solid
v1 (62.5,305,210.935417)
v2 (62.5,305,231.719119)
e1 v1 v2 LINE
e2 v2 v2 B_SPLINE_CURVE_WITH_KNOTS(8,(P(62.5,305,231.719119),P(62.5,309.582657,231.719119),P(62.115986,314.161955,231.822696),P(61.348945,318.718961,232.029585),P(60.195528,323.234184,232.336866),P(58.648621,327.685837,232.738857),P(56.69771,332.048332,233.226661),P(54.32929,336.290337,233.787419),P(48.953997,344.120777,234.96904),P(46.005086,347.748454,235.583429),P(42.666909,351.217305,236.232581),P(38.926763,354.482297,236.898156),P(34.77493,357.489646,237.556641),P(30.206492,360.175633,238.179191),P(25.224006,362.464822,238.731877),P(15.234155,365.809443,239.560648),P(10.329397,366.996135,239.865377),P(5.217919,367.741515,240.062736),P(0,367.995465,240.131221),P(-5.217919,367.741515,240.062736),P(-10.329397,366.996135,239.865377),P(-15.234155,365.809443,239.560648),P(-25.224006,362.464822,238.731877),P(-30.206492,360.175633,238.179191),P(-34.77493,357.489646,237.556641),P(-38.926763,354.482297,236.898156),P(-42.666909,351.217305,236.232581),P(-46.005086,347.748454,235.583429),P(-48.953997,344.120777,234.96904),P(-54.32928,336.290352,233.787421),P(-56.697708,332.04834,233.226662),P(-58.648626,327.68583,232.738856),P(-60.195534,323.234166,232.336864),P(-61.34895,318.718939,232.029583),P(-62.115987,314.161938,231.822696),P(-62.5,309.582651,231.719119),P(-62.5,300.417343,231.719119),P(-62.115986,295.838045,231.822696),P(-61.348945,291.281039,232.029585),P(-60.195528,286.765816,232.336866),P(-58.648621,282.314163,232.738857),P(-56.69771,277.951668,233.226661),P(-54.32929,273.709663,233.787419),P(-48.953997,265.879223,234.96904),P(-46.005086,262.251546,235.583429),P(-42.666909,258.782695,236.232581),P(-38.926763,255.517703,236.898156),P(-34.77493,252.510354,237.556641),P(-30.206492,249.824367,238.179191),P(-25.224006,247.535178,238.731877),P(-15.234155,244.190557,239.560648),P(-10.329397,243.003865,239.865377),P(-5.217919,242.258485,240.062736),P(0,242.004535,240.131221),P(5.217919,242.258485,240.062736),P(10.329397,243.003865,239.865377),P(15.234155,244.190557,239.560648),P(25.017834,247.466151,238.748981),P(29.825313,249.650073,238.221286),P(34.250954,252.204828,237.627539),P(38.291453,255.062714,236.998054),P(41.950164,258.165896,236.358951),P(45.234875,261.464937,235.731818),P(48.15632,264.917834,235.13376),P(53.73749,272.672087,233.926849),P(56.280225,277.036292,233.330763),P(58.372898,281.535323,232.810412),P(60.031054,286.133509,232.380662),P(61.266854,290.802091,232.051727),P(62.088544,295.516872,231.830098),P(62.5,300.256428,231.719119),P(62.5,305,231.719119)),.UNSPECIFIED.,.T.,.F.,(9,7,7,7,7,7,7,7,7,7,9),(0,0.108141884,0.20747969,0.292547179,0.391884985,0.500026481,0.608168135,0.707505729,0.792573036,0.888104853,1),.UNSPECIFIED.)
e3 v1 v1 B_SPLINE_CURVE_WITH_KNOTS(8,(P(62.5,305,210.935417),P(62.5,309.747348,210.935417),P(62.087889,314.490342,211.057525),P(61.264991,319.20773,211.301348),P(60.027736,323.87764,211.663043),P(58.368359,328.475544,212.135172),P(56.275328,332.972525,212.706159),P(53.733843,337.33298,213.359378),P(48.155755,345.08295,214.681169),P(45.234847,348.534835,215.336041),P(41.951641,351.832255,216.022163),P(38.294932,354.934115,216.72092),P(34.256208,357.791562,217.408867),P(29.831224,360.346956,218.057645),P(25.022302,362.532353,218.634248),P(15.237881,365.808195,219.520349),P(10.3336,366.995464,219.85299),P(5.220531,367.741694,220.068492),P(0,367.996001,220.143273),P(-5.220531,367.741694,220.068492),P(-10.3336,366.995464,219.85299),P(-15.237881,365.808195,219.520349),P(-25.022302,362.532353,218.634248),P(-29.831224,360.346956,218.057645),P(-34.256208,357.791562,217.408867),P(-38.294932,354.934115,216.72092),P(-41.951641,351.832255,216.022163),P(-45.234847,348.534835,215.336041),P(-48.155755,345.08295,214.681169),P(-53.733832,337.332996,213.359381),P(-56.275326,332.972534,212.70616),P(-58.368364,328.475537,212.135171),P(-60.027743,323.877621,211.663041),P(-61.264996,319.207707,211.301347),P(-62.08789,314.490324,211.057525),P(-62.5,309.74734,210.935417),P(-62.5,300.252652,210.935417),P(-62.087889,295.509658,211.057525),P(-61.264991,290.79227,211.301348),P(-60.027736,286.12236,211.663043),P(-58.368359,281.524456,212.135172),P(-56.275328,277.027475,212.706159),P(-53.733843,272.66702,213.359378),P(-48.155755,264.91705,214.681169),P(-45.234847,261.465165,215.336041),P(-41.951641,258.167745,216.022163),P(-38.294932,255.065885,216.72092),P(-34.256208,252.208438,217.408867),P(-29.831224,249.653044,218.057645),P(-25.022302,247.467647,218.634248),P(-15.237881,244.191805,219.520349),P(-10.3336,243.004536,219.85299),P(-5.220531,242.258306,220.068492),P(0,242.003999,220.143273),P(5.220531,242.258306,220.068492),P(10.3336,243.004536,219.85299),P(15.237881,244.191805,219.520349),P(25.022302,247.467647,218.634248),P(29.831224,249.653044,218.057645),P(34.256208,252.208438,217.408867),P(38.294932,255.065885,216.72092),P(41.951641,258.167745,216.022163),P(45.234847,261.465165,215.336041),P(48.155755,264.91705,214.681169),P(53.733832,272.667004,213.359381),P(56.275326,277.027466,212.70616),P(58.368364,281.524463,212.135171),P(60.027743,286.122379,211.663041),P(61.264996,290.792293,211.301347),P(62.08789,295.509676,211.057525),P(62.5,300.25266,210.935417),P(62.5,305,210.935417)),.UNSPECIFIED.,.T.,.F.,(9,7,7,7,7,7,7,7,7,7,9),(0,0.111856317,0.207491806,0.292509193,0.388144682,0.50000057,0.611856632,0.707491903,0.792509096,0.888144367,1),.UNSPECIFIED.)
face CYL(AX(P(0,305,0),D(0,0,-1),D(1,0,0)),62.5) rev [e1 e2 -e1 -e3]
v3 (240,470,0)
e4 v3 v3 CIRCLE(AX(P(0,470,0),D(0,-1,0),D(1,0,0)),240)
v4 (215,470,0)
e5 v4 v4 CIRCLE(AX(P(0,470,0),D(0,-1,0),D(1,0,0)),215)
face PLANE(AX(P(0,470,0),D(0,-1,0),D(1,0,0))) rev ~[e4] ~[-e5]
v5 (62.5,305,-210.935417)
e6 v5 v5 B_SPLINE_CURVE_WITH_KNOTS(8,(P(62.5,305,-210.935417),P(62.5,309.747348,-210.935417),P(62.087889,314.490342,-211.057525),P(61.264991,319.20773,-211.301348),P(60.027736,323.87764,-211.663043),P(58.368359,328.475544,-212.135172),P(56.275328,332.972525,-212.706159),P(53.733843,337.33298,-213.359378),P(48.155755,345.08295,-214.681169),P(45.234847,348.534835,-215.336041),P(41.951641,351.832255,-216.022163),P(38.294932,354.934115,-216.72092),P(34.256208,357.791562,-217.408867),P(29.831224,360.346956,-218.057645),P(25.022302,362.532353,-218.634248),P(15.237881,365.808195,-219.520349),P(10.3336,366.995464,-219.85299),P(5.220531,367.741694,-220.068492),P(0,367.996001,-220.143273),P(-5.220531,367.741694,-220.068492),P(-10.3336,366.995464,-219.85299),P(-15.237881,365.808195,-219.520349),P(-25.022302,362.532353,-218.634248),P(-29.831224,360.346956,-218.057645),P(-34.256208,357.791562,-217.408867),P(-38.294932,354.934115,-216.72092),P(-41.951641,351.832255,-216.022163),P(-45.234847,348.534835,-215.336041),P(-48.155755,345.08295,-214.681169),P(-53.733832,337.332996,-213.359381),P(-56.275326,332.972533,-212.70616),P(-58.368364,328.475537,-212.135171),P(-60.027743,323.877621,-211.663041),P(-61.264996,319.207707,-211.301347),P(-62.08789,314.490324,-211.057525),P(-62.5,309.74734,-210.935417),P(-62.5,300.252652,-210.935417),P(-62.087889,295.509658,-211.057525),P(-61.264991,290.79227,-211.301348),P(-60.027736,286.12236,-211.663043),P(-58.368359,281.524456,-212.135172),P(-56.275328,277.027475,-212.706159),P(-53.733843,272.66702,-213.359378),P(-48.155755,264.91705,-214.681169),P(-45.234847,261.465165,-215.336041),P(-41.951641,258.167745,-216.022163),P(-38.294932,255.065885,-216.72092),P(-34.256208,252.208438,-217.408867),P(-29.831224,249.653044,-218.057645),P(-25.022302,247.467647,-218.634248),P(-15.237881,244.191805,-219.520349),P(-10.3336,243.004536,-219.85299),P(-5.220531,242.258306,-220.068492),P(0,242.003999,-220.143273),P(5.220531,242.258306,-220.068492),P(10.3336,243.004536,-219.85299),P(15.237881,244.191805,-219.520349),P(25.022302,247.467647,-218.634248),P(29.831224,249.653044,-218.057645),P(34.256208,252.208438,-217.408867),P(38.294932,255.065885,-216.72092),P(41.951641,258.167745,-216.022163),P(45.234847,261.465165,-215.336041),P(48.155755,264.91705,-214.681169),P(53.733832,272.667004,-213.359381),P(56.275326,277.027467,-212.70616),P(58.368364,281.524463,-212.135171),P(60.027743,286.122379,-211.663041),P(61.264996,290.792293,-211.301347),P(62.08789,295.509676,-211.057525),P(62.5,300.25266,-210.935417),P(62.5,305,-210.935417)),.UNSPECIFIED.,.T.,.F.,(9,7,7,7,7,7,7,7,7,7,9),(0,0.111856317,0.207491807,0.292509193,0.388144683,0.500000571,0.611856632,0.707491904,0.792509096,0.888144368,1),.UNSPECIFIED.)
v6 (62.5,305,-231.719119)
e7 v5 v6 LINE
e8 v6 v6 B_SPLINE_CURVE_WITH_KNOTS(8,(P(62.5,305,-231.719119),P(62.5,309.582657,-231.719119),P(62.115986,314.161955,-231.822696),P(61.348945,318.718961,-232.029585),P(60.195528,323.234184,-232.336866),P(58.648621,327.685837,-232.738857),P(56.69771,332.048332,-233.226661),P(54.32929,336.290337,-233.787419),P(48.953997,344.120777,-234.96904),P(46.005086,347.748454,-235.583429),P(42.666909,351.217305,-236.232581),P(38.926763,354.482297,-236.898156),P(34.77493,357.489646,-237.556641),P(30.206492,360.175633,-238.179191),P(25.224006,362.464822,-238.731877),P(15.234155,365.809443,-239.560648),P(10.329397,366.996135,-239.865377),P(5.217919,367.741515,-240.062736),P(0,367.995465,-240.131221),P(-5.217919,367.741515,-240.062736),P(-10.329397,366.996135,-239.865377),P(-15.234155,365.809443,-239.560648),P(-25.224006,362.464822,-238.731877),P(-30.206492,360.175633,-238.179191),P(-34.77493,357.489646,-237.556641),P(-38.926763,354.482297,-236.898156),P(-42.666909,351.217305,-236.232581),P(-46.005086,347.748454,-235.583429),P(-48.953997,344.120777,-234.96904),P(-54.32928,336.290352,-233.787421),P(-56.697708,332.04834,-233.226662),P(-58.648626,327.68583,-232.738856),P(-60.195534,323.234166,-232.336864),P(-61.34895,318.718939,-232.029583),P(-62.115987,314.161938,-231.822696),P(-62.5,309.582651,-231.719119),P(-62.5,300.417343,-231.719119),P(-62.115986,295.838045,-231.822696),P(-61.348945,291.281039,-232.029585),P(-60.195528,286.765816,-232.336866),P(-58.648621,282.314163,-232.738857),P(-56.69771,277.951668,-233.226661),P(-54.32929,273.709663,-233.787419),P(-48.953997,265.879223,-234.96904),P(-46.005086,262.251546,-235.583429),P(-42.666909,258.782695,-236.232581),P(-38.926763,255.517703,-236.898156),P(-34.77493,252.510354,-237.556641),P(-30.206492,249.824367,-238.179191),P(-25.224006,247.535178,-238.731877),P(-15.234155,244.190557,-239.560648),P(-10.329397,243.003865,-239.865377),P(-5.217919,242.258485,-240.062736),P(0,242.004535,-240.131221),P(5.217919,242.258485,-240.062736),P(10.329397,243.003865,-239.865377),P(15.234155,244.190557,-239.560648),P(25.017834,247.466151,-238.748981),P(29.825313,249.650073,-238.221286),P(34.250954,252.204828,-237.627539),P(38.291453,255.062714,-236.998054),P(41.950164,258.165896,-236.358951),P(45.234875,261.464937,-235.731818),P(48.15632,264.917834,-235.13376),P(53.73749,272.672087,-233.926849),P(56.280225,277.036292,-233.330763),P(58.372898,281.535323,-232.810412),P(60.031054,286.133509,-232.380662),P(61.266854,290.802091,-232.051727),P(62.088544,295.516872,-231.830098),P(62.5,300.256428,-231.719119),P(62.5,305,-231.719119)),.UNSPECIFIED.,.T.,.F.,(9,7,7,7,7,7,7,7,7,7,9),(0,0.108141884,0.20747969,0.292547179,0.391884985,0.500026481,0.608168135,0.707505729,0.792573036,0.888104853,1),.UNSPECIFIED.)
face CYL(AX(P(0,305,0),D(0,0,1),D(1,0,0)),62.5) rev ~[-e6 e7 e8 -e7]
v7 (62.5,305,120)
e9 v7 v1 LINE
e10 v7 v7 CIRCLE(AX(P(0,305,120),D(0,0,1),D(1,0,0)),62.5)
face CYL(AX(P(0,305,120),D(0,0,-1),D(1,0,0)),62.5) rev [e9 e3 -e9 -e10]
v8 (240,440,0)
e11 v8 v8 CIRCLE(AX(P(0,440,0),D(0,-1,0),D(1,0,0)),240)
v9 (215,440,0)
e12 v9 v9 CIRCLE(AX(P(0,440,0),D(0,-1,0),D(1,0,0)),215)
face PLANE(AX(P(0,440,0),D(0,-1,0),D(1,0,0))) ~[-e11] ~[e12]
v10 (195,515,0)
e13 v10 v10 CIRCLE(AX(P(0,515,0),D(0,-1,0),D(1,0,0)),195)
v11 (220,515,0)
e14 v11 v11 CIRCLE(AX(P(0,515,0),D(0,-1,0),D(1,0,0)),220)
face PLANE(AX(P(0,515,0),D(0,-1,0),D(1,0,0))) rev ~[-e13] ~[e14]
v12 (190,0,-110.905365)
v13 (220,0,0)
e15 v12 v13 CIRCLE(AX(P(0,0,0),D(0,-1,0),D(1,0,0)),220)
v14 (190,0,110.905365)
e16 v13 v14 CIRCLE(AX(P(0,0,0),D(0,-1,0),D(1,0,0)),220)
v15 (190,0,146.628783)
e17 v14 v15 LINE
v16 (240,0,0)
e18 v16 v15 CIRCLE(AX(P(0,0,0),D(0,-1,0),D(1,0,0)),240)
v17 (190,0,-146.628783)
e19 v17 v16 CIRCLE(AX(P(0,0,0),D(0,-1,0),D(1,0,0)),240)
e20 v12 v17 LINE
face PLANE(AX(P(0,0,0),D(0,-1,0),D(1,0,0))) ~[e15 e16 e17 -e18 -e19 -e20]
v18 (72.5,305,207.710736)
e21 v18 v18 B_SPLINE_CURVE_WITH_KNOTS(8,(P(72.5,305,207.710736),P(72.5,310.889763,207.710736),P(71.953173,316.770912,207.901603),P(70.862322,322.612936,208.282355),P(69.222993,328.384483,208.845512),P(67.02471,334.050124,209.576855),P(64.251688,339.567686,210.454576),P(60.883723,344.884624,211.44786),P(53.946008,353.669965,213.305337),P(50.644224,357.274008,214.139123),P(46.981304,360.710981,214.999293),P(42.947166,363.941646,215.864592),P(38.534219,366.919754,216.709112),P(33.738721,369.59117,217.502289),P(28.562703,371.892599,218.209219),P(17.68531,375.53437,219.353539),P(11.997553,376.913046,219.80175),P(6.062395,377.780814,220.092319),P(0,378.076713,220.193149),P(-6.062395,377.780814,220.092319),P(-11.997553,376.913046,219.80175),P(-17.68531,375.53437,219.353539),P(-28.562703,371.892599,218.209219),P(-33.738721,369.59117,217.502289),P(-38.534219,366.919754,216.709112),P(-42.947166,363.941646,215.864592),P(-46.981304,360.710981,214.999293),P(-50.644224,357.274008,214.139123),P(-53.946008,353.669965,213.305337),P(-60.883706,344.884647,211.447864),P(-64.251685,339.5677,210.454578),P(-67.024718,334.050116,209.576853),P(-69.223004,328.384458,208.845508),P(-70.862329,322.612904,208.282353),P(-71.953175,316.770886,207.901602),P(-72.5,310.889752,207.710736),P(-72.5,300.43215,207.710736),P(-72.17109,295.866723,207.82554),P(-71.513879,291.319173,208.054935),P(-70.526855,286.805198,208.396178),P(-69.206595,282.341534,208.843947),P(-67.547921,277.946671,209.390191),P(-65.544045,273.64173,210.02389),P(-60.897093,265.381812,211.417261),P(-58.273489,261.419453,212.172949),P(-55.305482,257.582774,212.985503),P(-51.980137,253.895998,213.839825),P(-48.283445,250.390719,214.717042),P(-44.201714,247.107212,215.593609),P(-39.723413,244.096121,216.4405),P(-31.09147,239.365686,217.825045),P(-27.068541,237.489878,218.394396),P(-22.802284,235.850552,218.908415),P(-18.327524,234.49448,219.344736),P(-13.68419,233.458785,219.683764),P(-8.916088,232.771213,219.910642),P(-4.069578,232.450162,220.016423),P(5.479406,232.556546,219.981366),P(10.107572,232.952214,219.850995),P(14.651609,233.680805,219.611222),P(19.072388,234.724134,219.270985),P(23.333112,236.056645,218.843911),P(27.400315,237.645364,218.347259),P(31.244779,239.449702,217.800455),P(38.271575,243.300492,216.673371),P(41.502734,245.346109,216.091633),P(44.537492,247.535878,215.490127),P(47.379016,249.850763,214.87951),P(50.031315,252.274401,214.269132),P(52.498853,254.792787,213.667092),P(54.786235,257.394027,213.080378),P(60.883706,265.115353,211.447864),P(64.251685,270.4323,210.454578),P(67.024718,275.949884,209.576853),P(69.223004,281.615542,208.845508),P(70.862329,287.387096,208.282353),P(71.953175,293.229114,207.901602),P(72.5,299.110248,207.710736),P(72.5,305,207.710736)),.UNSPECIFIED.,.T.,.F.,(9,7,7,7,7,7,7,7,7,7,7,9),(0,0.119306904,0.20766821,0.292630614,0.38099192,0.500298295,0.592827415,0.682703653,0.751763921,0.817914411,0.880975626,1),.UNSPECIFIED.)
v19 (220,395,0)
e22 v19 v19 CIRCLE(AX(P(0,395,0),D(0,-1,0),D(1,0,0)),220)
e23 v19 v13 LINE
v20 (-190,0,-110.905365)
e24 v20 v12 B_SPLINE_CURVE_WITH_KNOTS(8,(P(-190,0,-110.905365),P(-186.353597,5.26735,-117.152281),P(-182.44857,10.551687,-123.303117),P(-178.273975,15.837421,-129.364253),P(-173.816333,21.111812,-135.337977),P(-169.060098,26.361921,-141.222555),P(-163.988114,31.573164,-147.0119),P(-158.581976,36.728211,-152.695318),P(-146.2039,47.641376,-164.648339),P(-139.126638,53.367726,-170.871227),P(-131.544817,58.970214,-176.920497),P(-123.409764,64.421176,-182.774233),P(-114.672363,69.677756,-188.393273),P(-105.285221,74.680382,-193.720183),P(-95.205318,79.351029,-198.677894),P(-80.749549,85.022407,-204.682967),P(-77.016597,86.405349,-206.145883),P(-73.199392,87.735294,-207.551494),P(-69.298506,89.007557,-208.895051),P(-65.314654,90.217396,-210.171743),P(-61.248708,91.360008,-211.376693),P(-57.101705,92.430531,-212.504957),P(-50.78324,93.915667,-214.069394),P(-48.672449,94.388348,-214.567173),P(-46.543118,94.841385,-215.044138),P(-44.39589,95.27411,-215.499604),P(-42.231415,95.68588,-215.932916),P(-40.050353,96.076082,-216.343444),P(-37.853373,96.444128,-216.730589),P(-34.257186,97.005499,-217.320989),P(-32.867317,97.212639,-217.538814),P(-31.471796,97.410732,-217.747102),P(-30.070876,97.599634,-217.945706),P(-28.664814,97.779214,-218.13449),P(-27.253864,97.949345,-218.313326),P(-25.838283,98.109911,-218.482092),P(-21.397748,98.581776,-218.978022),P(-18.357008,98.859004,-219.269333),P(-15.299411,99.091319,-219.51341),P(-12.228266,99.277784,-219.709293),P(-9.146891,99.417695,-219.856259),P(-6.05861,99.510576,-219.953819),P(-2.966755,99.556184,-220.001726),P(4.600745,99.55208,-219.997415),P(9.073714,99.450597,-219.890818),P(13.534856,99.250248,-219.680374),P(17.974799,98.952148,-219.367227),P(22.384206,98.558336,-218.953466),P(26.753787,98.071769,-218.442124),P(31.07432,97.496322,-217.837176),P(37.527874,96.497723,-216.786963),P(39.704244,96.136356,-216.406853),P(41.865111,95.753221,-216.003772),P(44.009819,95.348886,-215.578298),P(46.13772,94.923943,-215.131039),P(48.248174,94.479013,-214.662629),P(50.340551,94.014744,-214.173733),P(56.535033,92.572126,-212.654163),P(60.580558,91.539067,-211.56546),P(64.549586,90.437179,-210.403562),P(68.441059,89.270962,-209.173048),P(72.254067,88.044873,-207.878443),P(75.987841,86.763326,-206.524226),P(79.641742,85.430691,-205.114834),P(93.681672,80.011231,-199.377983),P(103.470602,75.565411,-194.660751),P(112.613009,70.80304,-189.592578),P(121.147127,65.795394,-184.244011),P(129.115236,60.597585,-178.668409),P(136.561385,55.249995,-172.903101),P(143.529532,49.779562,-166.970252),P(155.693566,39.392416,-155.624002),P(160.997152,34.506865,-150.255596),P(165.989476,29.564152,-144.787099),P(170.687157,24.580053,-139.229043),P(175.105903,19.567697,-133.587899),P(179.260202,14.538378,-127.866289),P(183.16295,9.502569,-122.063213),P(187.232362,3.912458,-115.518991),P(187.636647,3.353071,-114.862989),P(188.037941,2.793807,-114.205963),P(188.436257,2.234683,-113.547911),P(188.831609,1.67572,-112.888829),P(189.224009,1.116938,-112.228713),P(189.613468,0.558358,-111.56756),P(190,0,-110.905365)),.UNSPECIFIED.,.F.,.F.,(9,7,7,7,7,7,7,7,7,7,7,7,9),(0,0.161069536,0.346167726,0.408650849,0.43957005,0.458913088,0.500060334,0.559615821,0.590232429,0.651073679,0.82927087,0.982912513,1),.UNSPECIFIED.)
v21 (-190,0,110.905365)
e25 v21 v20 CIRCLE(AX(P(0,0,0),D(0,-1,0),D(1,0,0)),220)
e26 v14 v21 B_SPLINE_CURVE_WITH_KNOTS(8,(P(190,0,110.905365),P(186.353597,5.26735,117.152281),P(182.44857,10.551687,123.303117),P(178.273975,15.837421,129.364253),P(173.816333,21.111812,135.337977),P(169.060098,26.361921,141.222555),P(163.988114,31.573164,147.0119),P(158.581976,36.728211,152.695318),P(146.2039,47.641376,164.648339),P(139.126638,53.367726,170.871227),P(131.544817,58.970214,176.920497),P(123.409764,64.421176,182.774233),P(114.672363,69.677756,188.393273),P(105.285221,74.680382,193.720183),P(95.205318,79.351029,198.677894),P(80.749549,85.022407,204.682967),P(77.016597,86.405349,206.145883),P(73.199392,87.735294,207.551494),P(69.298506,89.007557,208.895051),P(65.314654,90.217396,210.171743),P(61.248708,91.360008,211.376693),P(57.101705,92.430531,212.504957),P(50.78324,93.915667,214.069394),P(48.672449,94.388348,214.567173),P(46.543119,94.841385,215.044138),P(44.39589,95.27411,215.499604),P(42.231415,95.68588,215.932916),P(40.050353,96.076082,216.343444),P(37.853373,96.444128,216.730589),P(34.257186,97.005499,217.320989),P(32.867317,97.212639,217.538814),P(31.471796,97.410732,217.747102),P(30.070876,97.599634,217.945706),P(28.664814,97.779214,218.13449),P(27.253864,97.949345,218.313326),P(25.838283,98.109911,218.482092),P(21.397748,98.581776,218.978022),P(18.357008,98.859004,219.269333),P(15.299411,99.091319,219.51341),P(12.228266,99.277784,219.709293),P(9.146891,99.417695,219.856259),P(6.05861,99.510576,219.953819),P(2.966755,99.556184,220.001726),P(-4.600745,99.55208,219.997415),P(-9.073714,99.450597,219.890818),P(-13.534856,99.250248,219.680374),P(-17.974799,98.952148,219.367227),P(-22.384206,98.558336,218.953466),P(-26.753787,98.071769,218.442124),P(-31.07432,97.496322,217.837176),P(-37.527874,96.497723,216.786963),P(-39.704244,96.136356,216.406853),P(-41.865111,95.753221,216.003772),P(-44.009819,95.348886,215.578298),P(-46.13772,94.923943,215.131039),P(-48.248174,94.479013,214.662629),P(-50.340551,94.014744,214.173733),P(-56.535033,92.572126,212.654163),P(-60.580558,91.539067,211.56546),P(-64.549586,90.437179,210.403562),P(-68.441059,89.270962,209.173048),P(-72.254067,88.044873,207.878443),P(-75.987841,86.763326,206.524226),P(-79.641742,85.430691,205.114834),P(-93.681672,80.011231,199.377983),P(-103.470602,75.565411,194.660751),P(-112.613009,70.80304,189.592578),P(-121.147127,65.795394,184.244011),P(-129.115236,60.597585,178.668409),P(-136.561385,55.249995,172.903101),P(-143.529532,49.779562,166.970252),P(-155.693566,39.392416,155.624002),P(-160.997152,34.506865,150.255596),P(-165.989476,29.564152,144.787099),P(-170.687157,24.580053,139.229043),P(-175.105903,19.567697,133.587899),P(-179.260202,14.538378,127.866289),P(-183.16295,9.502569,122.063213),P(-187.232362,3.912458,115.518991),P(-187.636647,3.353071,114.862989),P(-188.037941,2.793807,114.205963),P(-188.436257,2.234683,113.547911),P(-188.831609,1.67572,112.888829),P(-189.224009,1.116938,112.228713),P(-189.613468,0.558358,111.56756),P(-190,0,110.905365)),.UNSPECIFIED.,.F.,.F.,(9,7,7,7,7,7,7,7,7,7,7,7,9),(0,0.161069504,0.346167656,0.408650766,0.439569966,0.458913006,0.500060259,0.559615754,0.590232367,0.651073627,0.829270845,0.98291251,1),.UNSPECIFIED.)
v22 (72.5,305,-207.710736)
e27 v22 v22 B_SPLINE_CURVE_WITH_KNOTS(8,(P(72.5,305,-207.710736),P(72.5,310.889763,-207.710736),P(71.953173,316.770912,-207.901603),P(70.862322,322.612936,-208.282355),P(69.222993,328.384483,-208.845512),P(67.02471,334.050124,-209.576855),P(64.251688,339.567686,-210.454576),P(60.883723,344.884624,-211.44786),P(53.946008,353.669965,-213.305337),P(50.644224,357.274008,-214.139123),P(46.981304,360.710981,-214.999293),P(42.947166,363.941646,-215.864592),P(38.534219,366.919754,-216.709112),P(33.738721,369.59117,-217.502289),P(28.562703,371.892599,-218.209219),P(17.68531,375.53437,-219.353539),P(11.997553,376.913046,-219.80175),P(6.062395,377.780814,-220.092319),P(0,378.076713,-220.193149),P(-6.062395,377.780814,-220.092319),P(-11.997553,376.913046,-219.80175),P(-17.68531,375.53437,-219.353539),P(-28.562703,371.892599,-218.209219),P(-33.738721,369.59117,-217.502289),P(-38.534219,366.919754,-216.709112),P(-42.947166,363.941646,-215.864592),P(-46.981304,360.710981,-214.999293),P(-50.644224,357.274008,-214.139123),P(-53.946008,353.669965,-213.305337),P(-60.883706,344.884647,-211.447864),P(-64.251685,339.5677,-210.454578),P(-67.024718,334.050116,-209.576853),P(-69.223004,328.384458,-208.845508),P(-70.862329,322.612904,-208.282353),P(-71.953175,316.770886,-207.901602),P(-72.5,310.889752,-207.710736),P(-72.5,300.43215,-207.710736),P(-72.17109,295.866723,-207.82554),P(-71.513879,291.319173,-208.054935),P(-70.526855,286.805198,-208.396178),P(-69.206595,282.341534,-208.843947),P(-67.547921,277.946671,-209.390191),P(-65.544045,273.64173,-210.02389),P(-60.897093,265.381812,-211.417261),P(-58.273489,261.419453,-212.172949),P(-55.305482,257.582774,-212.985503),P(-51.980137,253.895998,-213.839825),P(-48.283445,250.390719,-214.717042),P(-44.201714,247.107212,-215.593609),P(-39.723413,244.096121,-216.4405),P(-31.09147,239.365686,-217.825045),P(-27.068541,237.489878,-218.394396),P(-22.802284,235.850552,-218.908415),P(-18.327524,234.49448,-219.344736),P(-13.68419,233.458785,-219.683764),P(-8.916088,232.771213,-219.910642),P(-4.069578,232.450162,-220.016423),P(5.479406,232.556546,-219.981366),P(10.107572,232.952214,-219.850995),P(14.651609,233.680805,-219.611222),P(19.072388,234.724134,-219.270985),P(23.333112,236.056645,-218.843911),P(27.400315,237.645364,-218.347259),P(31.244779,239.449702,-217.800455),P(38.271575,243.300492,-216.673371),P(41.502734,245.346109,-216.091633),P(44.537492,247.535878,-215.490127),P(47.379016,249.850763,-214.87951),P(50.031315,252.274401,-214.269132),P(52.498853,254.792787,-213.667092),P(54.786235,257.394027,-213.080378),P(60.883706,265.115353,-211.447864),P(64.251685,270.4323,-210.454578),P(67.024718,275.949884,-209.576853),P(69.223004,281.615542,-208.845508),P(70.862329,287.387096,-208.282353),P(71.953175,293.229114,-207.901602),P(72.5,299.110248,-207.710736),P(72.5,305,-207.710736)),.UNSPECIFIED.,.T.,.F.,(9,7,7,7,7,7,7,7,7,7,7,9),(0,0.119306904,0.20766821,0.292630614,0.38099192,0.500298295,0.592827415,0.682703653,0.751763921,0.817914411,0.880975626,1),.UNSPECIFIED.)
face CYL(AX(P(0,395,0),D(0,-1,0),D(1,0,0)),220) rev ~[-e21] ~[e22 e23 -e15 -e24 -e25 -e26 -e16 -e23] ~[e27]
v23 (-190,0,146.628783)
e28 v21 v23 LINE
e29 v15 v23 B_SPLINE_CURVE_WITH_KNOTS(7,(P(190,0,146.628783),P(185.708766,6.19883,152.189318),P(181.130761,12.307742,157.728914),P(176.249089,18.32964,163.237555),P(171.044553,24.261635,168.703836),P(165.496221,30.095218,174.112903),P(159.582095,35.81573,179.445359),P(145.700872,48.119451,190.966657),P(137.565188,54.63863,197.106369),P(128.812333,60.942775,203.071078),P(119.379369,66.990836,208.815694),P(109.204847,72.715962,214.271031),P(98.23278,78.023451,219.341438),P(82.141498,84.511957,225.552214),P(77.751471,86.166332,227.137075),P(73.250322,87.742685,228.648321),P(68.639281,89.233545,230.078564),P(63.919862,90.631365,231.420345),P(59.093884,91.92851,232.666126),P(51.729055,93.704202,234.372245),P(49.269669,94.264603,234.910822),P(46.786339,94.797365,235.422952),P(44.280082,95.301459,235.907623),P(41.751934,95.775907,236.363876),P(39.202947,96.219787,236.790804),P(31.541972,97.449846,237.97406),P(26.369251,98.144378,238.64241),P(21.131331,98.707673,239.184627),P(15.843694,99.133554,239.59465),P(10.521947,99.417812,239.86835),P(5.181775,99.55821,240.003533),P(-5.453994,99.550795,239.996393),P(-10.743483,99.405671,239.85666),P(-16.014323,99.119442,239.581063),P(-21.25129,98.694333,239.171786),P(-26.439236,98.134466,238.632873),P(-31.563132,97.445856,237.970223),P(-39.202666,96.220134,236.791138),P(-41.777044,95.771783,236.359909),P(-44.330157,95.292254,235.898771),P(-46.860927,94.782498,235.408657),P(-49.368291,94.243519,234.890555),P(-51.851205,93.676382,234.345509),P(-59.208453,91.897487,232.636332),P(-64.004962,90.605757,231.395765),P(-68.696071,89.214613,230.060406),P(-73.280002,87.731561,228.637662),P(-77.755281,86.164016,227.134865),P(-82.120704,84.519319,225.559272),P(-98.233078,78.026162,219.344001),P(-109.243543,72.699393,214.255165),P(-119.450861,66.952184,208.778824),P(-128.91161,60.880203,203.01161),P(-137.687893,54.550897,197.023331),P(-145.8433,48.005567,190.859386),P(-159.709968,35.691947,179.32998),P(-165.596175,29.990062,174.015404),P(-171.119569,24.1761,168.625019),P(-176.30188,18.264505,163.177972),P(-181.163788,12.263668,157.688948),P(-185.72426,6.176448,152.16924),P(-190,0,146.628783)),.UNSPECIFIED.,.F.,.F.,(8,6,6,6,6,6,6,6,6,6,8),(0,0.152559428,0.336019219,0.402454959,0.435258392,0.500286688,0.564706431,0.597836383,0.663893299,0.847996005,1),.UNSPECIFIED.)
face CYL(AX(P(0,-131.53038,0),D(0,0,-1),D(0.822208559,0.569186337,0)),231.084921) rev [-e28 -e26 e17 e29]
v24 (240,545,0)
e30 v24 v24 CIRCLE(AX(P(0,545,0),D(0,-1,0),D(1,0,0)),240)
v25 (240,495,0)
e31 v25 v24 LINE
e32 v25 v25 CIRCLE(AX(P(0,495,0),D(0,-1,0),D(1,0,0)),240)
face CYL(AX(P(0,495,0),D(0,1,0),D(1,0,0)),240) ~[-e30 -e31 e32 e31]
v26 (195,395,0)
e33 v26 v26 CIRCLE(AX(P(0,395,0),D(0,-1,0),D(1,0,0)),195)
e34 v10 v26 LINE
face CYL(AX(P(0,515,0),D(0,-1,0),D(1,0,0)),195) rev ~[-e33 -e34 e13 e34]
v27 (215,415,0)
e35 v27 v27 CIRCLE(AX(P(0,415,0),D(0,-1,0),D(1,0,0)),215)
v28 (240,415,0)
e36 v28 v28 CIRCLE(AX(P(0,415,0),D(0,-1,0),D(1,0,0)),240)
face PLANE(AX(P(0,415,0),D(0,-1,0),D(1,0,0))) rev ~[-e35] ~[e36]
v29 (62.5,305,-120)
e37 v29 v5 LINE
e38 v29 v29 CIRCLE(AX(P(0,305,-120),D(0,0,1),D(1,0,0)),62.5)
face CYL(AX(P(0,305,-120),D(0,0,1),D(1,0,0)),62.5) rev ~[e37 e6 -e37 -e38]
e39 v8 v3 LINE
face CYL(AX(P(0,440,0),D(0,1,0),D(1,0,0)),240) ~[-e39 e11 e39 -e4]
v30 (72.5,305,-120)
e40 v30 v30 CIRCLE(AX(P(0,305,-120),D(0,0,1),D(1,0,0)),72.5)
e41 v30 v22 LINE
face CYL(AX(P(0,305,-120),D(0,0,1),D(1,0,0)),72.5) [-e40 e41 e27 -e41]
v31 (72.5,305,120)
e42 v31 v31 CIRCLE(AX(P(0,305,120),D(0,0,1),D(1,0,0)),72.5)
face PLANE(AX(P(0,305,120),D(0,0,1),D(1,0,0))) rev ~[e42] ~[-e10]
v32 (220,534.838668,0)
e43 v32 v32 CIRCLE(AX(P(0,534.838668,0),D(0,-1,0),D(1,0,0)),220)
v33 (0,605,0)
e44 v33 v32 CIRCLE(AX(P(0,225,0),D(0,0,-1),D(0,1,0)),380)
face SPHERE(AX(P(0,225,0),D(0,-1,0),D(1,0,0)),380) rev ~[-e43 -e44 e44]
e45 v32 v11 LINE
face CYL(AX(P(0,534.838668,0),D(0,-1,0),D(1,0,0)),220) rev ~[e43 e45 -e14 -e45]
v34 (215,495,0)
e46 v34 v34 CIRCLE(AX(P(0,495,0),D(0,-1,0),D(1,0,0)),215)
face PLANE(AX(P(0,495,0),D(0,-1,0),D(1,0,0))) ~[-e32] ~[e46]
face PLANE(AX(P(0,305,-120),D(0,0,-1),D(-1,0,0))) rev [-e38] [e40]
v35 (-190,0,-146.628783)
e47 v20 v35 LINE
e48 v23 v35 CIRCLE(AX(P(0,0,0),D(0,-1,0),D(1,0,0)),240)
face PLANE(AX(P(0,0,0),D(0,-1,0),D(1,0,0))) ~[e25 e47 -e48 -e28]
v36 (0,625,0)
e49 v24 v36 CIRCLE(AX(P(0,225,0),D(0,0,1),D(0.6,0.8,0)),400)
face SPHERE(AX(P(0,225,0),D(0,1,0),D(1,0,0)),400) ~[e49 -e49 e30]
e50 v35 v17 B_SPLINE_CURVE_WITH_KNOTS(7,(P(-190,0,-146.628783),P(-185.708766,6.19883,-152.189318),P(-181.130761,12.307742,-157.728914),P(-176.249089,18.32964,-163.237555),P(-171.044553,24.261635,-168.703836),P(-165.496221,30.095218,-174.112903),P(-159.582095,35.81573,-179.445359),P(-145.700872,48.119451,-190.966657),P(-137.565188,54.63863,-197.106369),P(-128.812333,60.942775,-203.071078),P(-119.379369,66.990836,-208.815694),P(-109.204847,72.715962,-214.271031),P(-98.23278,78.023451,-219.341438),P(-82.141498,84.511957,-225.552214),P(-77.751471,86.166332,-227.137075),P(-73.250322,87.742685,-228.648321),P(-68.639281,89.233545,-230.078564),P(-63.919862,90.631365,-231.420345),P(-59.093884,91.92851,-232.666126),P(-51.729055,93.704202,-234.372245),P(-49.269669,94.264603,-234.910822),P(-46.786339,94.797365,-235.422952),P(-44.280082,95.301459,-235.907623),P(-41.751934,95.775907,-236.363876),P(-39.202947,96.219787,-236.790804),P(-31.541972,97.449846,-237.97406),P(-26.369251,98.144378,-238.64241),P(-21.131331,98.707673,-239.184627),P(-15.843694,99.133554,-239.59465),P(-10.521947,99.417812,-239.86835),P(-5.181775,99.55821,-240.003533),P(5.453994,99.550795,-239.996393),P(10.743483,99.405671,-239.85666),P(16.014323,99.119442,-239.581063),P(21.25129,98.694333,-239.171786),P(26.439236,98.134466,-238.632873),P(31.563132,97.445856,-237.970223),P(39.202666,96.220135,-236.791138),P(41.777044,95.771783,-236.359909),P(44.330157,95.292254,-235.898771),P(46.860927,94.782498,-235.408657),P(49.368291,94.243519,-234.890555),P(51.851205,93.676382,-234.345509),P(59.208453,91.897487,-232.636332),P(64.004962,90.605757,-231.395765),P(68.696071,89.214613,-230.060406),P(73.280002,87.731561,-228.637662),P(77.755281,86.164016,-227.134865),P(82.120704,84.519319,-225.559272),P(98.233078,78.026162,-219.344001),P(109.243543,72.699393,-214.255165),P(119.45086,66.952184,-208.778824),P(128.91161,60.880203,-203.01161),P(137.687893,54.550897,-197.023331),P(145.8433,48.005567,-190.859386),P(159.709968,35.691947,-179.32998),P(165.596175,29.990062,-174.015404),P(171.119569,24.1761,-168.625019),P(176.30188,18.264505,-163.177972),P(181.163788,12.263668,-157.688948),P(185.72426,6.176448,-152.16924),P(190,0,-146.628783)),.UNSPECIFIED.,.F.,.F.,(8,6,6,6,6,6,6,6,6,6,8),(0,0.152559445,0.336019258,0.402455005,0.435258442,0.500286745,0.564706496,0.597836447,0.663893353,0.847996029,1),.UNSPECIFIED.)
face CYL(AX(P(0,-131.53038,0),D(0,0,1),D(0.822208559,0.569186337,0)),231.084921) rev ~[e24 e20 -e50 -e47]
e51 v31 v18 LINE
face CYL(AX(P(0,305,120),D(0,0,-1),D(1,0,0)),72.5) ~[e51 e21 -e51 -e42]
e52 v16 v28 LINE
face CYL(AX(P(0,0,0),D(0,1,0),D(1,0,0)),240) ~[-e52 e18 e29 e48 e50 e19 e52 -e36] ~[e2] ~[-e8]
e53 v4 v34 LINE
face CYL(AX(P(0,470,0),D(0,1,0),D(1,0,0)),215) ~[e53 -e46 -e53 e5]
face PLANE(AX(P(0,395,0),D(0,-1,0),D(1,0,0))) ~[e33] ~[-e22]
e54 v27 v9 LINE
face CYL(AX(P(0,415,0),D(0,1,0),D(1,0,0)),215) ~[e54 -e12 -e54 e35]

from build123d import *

# Parameters (mm, degrees)
CUT_EXTRUDE1_DEPTH      = 241
CUT_EXTRUDE1_DEPTH_BACK = 241
SKETCH4_R               = 62.5
CUT_EXTRUDE2_DEPTH      = 241.0000001
CUT_EXTRUDE2_DEPTH_BACK = 241.0000001
BOSS_EXTRUDE1_REACH     = 122
SKETCH5_R               = 72.5
SKETCH5_R_2             = 62.5


with BuildPart() as part:
    # Sketch1 → Revolve2 (revolve)
    with BuildSketch(Plane.XY):
        with BuildLine():
            Line((0, 625), (0, 605))
            ThreePointArc((0, 605), (115.458447667, 587.035007786), (220, 534.838667697))
            Line((220, 534.838667697), (220, 515))
            Line((220, 515), (195, 515))
            Line((195, 515), (195, 455))
            Line((195, 455), (195, 395))
            Line((195, 395), (220, 395))
            Line((220, 395), (220, 0))
            Line((220, 0), (240, 0))
            Line((240, 0), (240, 415))
            Line((240, 415), (215, 415))
            Line((215, 415), (215, 440))
            Line((215, 440), (240, 440))
            Line((240, 440), (240, 470))
            Line((240, 470), (215, 470))
            Line((215, 470), (215, 495))
            Line((215, 495), (240, 495))
            Line((240, 495), (240, 545))
            ThreePointArc((240, 545), (126.491106407, 604.47331922), (0, 625))
        make_face()
    revolve(axis=Axis((0, 625, 0), (0, -1, 0)))

    # Sketch2 → Cut-Extrude1 (cut, two sides)
    with BuildSketch(Plane.XY) as cut_extrude1_sk:
        with BuildLine():
            Line((-190, 0), (190, 0))
            ThreePointArc((190, 0), (0, 99.55454139), (-190, 0))
        make_face()
    extrude(amount=CUT_EXTRUDE1_DEPTH, mode=Mode.SUBTRACT)
    extrude(cut_extrude1_sk.sketch, amount=-CUT_EXTRUDE1_DEPTH_BACK, mode=Mode.SUBTRACT)

    # Sketch4 → Cut-Extrude2 (cut, two sides)
    with BuildSketch(Plane.XY) as cut_extrude2_sk:
        with Locations((0, 305)):
            Circle(SKETCH4_R)
    extrude(amount=CUT_EXTRUDE2_DEPTH, mode=Mode.SUBTRACT)
    extrude(cut_extrude2_sk.sketch, amount=-CUT_EXTRUDE2_DEPTH_BACK, mode=Mode.SUBTRACT)

    # Sketch5 → Boss-Extrude1 (add, up to next)
    with BuildSketch(Plane.XY.offset(120), mode=Mode.PRIVATE) as boss_extrude1_sk1:
        with Locations((0, 305)):
            Circle(SKETCH5_R)
        with Locations((0, 305)):
            Circle(SKETCH5_R_2, mode=Mode.SUBTRACT)
    boss_extrude1_tool1 = extrude(boss_extrude1_sk1.sketch, amount=BOSS_EXTRUDE1_REACH, mode=Mode.PRIVATE) - part.part
    add(boss_extrude1_tool1.solids().sort_by_distance((-70.44939, 305, 120))[0])

    # Mirror1: part across plane


with BuildPart() as part_1:
    add(part.part)
    add(part.part.mirror(Plane.XY))


solid = part_1.part
